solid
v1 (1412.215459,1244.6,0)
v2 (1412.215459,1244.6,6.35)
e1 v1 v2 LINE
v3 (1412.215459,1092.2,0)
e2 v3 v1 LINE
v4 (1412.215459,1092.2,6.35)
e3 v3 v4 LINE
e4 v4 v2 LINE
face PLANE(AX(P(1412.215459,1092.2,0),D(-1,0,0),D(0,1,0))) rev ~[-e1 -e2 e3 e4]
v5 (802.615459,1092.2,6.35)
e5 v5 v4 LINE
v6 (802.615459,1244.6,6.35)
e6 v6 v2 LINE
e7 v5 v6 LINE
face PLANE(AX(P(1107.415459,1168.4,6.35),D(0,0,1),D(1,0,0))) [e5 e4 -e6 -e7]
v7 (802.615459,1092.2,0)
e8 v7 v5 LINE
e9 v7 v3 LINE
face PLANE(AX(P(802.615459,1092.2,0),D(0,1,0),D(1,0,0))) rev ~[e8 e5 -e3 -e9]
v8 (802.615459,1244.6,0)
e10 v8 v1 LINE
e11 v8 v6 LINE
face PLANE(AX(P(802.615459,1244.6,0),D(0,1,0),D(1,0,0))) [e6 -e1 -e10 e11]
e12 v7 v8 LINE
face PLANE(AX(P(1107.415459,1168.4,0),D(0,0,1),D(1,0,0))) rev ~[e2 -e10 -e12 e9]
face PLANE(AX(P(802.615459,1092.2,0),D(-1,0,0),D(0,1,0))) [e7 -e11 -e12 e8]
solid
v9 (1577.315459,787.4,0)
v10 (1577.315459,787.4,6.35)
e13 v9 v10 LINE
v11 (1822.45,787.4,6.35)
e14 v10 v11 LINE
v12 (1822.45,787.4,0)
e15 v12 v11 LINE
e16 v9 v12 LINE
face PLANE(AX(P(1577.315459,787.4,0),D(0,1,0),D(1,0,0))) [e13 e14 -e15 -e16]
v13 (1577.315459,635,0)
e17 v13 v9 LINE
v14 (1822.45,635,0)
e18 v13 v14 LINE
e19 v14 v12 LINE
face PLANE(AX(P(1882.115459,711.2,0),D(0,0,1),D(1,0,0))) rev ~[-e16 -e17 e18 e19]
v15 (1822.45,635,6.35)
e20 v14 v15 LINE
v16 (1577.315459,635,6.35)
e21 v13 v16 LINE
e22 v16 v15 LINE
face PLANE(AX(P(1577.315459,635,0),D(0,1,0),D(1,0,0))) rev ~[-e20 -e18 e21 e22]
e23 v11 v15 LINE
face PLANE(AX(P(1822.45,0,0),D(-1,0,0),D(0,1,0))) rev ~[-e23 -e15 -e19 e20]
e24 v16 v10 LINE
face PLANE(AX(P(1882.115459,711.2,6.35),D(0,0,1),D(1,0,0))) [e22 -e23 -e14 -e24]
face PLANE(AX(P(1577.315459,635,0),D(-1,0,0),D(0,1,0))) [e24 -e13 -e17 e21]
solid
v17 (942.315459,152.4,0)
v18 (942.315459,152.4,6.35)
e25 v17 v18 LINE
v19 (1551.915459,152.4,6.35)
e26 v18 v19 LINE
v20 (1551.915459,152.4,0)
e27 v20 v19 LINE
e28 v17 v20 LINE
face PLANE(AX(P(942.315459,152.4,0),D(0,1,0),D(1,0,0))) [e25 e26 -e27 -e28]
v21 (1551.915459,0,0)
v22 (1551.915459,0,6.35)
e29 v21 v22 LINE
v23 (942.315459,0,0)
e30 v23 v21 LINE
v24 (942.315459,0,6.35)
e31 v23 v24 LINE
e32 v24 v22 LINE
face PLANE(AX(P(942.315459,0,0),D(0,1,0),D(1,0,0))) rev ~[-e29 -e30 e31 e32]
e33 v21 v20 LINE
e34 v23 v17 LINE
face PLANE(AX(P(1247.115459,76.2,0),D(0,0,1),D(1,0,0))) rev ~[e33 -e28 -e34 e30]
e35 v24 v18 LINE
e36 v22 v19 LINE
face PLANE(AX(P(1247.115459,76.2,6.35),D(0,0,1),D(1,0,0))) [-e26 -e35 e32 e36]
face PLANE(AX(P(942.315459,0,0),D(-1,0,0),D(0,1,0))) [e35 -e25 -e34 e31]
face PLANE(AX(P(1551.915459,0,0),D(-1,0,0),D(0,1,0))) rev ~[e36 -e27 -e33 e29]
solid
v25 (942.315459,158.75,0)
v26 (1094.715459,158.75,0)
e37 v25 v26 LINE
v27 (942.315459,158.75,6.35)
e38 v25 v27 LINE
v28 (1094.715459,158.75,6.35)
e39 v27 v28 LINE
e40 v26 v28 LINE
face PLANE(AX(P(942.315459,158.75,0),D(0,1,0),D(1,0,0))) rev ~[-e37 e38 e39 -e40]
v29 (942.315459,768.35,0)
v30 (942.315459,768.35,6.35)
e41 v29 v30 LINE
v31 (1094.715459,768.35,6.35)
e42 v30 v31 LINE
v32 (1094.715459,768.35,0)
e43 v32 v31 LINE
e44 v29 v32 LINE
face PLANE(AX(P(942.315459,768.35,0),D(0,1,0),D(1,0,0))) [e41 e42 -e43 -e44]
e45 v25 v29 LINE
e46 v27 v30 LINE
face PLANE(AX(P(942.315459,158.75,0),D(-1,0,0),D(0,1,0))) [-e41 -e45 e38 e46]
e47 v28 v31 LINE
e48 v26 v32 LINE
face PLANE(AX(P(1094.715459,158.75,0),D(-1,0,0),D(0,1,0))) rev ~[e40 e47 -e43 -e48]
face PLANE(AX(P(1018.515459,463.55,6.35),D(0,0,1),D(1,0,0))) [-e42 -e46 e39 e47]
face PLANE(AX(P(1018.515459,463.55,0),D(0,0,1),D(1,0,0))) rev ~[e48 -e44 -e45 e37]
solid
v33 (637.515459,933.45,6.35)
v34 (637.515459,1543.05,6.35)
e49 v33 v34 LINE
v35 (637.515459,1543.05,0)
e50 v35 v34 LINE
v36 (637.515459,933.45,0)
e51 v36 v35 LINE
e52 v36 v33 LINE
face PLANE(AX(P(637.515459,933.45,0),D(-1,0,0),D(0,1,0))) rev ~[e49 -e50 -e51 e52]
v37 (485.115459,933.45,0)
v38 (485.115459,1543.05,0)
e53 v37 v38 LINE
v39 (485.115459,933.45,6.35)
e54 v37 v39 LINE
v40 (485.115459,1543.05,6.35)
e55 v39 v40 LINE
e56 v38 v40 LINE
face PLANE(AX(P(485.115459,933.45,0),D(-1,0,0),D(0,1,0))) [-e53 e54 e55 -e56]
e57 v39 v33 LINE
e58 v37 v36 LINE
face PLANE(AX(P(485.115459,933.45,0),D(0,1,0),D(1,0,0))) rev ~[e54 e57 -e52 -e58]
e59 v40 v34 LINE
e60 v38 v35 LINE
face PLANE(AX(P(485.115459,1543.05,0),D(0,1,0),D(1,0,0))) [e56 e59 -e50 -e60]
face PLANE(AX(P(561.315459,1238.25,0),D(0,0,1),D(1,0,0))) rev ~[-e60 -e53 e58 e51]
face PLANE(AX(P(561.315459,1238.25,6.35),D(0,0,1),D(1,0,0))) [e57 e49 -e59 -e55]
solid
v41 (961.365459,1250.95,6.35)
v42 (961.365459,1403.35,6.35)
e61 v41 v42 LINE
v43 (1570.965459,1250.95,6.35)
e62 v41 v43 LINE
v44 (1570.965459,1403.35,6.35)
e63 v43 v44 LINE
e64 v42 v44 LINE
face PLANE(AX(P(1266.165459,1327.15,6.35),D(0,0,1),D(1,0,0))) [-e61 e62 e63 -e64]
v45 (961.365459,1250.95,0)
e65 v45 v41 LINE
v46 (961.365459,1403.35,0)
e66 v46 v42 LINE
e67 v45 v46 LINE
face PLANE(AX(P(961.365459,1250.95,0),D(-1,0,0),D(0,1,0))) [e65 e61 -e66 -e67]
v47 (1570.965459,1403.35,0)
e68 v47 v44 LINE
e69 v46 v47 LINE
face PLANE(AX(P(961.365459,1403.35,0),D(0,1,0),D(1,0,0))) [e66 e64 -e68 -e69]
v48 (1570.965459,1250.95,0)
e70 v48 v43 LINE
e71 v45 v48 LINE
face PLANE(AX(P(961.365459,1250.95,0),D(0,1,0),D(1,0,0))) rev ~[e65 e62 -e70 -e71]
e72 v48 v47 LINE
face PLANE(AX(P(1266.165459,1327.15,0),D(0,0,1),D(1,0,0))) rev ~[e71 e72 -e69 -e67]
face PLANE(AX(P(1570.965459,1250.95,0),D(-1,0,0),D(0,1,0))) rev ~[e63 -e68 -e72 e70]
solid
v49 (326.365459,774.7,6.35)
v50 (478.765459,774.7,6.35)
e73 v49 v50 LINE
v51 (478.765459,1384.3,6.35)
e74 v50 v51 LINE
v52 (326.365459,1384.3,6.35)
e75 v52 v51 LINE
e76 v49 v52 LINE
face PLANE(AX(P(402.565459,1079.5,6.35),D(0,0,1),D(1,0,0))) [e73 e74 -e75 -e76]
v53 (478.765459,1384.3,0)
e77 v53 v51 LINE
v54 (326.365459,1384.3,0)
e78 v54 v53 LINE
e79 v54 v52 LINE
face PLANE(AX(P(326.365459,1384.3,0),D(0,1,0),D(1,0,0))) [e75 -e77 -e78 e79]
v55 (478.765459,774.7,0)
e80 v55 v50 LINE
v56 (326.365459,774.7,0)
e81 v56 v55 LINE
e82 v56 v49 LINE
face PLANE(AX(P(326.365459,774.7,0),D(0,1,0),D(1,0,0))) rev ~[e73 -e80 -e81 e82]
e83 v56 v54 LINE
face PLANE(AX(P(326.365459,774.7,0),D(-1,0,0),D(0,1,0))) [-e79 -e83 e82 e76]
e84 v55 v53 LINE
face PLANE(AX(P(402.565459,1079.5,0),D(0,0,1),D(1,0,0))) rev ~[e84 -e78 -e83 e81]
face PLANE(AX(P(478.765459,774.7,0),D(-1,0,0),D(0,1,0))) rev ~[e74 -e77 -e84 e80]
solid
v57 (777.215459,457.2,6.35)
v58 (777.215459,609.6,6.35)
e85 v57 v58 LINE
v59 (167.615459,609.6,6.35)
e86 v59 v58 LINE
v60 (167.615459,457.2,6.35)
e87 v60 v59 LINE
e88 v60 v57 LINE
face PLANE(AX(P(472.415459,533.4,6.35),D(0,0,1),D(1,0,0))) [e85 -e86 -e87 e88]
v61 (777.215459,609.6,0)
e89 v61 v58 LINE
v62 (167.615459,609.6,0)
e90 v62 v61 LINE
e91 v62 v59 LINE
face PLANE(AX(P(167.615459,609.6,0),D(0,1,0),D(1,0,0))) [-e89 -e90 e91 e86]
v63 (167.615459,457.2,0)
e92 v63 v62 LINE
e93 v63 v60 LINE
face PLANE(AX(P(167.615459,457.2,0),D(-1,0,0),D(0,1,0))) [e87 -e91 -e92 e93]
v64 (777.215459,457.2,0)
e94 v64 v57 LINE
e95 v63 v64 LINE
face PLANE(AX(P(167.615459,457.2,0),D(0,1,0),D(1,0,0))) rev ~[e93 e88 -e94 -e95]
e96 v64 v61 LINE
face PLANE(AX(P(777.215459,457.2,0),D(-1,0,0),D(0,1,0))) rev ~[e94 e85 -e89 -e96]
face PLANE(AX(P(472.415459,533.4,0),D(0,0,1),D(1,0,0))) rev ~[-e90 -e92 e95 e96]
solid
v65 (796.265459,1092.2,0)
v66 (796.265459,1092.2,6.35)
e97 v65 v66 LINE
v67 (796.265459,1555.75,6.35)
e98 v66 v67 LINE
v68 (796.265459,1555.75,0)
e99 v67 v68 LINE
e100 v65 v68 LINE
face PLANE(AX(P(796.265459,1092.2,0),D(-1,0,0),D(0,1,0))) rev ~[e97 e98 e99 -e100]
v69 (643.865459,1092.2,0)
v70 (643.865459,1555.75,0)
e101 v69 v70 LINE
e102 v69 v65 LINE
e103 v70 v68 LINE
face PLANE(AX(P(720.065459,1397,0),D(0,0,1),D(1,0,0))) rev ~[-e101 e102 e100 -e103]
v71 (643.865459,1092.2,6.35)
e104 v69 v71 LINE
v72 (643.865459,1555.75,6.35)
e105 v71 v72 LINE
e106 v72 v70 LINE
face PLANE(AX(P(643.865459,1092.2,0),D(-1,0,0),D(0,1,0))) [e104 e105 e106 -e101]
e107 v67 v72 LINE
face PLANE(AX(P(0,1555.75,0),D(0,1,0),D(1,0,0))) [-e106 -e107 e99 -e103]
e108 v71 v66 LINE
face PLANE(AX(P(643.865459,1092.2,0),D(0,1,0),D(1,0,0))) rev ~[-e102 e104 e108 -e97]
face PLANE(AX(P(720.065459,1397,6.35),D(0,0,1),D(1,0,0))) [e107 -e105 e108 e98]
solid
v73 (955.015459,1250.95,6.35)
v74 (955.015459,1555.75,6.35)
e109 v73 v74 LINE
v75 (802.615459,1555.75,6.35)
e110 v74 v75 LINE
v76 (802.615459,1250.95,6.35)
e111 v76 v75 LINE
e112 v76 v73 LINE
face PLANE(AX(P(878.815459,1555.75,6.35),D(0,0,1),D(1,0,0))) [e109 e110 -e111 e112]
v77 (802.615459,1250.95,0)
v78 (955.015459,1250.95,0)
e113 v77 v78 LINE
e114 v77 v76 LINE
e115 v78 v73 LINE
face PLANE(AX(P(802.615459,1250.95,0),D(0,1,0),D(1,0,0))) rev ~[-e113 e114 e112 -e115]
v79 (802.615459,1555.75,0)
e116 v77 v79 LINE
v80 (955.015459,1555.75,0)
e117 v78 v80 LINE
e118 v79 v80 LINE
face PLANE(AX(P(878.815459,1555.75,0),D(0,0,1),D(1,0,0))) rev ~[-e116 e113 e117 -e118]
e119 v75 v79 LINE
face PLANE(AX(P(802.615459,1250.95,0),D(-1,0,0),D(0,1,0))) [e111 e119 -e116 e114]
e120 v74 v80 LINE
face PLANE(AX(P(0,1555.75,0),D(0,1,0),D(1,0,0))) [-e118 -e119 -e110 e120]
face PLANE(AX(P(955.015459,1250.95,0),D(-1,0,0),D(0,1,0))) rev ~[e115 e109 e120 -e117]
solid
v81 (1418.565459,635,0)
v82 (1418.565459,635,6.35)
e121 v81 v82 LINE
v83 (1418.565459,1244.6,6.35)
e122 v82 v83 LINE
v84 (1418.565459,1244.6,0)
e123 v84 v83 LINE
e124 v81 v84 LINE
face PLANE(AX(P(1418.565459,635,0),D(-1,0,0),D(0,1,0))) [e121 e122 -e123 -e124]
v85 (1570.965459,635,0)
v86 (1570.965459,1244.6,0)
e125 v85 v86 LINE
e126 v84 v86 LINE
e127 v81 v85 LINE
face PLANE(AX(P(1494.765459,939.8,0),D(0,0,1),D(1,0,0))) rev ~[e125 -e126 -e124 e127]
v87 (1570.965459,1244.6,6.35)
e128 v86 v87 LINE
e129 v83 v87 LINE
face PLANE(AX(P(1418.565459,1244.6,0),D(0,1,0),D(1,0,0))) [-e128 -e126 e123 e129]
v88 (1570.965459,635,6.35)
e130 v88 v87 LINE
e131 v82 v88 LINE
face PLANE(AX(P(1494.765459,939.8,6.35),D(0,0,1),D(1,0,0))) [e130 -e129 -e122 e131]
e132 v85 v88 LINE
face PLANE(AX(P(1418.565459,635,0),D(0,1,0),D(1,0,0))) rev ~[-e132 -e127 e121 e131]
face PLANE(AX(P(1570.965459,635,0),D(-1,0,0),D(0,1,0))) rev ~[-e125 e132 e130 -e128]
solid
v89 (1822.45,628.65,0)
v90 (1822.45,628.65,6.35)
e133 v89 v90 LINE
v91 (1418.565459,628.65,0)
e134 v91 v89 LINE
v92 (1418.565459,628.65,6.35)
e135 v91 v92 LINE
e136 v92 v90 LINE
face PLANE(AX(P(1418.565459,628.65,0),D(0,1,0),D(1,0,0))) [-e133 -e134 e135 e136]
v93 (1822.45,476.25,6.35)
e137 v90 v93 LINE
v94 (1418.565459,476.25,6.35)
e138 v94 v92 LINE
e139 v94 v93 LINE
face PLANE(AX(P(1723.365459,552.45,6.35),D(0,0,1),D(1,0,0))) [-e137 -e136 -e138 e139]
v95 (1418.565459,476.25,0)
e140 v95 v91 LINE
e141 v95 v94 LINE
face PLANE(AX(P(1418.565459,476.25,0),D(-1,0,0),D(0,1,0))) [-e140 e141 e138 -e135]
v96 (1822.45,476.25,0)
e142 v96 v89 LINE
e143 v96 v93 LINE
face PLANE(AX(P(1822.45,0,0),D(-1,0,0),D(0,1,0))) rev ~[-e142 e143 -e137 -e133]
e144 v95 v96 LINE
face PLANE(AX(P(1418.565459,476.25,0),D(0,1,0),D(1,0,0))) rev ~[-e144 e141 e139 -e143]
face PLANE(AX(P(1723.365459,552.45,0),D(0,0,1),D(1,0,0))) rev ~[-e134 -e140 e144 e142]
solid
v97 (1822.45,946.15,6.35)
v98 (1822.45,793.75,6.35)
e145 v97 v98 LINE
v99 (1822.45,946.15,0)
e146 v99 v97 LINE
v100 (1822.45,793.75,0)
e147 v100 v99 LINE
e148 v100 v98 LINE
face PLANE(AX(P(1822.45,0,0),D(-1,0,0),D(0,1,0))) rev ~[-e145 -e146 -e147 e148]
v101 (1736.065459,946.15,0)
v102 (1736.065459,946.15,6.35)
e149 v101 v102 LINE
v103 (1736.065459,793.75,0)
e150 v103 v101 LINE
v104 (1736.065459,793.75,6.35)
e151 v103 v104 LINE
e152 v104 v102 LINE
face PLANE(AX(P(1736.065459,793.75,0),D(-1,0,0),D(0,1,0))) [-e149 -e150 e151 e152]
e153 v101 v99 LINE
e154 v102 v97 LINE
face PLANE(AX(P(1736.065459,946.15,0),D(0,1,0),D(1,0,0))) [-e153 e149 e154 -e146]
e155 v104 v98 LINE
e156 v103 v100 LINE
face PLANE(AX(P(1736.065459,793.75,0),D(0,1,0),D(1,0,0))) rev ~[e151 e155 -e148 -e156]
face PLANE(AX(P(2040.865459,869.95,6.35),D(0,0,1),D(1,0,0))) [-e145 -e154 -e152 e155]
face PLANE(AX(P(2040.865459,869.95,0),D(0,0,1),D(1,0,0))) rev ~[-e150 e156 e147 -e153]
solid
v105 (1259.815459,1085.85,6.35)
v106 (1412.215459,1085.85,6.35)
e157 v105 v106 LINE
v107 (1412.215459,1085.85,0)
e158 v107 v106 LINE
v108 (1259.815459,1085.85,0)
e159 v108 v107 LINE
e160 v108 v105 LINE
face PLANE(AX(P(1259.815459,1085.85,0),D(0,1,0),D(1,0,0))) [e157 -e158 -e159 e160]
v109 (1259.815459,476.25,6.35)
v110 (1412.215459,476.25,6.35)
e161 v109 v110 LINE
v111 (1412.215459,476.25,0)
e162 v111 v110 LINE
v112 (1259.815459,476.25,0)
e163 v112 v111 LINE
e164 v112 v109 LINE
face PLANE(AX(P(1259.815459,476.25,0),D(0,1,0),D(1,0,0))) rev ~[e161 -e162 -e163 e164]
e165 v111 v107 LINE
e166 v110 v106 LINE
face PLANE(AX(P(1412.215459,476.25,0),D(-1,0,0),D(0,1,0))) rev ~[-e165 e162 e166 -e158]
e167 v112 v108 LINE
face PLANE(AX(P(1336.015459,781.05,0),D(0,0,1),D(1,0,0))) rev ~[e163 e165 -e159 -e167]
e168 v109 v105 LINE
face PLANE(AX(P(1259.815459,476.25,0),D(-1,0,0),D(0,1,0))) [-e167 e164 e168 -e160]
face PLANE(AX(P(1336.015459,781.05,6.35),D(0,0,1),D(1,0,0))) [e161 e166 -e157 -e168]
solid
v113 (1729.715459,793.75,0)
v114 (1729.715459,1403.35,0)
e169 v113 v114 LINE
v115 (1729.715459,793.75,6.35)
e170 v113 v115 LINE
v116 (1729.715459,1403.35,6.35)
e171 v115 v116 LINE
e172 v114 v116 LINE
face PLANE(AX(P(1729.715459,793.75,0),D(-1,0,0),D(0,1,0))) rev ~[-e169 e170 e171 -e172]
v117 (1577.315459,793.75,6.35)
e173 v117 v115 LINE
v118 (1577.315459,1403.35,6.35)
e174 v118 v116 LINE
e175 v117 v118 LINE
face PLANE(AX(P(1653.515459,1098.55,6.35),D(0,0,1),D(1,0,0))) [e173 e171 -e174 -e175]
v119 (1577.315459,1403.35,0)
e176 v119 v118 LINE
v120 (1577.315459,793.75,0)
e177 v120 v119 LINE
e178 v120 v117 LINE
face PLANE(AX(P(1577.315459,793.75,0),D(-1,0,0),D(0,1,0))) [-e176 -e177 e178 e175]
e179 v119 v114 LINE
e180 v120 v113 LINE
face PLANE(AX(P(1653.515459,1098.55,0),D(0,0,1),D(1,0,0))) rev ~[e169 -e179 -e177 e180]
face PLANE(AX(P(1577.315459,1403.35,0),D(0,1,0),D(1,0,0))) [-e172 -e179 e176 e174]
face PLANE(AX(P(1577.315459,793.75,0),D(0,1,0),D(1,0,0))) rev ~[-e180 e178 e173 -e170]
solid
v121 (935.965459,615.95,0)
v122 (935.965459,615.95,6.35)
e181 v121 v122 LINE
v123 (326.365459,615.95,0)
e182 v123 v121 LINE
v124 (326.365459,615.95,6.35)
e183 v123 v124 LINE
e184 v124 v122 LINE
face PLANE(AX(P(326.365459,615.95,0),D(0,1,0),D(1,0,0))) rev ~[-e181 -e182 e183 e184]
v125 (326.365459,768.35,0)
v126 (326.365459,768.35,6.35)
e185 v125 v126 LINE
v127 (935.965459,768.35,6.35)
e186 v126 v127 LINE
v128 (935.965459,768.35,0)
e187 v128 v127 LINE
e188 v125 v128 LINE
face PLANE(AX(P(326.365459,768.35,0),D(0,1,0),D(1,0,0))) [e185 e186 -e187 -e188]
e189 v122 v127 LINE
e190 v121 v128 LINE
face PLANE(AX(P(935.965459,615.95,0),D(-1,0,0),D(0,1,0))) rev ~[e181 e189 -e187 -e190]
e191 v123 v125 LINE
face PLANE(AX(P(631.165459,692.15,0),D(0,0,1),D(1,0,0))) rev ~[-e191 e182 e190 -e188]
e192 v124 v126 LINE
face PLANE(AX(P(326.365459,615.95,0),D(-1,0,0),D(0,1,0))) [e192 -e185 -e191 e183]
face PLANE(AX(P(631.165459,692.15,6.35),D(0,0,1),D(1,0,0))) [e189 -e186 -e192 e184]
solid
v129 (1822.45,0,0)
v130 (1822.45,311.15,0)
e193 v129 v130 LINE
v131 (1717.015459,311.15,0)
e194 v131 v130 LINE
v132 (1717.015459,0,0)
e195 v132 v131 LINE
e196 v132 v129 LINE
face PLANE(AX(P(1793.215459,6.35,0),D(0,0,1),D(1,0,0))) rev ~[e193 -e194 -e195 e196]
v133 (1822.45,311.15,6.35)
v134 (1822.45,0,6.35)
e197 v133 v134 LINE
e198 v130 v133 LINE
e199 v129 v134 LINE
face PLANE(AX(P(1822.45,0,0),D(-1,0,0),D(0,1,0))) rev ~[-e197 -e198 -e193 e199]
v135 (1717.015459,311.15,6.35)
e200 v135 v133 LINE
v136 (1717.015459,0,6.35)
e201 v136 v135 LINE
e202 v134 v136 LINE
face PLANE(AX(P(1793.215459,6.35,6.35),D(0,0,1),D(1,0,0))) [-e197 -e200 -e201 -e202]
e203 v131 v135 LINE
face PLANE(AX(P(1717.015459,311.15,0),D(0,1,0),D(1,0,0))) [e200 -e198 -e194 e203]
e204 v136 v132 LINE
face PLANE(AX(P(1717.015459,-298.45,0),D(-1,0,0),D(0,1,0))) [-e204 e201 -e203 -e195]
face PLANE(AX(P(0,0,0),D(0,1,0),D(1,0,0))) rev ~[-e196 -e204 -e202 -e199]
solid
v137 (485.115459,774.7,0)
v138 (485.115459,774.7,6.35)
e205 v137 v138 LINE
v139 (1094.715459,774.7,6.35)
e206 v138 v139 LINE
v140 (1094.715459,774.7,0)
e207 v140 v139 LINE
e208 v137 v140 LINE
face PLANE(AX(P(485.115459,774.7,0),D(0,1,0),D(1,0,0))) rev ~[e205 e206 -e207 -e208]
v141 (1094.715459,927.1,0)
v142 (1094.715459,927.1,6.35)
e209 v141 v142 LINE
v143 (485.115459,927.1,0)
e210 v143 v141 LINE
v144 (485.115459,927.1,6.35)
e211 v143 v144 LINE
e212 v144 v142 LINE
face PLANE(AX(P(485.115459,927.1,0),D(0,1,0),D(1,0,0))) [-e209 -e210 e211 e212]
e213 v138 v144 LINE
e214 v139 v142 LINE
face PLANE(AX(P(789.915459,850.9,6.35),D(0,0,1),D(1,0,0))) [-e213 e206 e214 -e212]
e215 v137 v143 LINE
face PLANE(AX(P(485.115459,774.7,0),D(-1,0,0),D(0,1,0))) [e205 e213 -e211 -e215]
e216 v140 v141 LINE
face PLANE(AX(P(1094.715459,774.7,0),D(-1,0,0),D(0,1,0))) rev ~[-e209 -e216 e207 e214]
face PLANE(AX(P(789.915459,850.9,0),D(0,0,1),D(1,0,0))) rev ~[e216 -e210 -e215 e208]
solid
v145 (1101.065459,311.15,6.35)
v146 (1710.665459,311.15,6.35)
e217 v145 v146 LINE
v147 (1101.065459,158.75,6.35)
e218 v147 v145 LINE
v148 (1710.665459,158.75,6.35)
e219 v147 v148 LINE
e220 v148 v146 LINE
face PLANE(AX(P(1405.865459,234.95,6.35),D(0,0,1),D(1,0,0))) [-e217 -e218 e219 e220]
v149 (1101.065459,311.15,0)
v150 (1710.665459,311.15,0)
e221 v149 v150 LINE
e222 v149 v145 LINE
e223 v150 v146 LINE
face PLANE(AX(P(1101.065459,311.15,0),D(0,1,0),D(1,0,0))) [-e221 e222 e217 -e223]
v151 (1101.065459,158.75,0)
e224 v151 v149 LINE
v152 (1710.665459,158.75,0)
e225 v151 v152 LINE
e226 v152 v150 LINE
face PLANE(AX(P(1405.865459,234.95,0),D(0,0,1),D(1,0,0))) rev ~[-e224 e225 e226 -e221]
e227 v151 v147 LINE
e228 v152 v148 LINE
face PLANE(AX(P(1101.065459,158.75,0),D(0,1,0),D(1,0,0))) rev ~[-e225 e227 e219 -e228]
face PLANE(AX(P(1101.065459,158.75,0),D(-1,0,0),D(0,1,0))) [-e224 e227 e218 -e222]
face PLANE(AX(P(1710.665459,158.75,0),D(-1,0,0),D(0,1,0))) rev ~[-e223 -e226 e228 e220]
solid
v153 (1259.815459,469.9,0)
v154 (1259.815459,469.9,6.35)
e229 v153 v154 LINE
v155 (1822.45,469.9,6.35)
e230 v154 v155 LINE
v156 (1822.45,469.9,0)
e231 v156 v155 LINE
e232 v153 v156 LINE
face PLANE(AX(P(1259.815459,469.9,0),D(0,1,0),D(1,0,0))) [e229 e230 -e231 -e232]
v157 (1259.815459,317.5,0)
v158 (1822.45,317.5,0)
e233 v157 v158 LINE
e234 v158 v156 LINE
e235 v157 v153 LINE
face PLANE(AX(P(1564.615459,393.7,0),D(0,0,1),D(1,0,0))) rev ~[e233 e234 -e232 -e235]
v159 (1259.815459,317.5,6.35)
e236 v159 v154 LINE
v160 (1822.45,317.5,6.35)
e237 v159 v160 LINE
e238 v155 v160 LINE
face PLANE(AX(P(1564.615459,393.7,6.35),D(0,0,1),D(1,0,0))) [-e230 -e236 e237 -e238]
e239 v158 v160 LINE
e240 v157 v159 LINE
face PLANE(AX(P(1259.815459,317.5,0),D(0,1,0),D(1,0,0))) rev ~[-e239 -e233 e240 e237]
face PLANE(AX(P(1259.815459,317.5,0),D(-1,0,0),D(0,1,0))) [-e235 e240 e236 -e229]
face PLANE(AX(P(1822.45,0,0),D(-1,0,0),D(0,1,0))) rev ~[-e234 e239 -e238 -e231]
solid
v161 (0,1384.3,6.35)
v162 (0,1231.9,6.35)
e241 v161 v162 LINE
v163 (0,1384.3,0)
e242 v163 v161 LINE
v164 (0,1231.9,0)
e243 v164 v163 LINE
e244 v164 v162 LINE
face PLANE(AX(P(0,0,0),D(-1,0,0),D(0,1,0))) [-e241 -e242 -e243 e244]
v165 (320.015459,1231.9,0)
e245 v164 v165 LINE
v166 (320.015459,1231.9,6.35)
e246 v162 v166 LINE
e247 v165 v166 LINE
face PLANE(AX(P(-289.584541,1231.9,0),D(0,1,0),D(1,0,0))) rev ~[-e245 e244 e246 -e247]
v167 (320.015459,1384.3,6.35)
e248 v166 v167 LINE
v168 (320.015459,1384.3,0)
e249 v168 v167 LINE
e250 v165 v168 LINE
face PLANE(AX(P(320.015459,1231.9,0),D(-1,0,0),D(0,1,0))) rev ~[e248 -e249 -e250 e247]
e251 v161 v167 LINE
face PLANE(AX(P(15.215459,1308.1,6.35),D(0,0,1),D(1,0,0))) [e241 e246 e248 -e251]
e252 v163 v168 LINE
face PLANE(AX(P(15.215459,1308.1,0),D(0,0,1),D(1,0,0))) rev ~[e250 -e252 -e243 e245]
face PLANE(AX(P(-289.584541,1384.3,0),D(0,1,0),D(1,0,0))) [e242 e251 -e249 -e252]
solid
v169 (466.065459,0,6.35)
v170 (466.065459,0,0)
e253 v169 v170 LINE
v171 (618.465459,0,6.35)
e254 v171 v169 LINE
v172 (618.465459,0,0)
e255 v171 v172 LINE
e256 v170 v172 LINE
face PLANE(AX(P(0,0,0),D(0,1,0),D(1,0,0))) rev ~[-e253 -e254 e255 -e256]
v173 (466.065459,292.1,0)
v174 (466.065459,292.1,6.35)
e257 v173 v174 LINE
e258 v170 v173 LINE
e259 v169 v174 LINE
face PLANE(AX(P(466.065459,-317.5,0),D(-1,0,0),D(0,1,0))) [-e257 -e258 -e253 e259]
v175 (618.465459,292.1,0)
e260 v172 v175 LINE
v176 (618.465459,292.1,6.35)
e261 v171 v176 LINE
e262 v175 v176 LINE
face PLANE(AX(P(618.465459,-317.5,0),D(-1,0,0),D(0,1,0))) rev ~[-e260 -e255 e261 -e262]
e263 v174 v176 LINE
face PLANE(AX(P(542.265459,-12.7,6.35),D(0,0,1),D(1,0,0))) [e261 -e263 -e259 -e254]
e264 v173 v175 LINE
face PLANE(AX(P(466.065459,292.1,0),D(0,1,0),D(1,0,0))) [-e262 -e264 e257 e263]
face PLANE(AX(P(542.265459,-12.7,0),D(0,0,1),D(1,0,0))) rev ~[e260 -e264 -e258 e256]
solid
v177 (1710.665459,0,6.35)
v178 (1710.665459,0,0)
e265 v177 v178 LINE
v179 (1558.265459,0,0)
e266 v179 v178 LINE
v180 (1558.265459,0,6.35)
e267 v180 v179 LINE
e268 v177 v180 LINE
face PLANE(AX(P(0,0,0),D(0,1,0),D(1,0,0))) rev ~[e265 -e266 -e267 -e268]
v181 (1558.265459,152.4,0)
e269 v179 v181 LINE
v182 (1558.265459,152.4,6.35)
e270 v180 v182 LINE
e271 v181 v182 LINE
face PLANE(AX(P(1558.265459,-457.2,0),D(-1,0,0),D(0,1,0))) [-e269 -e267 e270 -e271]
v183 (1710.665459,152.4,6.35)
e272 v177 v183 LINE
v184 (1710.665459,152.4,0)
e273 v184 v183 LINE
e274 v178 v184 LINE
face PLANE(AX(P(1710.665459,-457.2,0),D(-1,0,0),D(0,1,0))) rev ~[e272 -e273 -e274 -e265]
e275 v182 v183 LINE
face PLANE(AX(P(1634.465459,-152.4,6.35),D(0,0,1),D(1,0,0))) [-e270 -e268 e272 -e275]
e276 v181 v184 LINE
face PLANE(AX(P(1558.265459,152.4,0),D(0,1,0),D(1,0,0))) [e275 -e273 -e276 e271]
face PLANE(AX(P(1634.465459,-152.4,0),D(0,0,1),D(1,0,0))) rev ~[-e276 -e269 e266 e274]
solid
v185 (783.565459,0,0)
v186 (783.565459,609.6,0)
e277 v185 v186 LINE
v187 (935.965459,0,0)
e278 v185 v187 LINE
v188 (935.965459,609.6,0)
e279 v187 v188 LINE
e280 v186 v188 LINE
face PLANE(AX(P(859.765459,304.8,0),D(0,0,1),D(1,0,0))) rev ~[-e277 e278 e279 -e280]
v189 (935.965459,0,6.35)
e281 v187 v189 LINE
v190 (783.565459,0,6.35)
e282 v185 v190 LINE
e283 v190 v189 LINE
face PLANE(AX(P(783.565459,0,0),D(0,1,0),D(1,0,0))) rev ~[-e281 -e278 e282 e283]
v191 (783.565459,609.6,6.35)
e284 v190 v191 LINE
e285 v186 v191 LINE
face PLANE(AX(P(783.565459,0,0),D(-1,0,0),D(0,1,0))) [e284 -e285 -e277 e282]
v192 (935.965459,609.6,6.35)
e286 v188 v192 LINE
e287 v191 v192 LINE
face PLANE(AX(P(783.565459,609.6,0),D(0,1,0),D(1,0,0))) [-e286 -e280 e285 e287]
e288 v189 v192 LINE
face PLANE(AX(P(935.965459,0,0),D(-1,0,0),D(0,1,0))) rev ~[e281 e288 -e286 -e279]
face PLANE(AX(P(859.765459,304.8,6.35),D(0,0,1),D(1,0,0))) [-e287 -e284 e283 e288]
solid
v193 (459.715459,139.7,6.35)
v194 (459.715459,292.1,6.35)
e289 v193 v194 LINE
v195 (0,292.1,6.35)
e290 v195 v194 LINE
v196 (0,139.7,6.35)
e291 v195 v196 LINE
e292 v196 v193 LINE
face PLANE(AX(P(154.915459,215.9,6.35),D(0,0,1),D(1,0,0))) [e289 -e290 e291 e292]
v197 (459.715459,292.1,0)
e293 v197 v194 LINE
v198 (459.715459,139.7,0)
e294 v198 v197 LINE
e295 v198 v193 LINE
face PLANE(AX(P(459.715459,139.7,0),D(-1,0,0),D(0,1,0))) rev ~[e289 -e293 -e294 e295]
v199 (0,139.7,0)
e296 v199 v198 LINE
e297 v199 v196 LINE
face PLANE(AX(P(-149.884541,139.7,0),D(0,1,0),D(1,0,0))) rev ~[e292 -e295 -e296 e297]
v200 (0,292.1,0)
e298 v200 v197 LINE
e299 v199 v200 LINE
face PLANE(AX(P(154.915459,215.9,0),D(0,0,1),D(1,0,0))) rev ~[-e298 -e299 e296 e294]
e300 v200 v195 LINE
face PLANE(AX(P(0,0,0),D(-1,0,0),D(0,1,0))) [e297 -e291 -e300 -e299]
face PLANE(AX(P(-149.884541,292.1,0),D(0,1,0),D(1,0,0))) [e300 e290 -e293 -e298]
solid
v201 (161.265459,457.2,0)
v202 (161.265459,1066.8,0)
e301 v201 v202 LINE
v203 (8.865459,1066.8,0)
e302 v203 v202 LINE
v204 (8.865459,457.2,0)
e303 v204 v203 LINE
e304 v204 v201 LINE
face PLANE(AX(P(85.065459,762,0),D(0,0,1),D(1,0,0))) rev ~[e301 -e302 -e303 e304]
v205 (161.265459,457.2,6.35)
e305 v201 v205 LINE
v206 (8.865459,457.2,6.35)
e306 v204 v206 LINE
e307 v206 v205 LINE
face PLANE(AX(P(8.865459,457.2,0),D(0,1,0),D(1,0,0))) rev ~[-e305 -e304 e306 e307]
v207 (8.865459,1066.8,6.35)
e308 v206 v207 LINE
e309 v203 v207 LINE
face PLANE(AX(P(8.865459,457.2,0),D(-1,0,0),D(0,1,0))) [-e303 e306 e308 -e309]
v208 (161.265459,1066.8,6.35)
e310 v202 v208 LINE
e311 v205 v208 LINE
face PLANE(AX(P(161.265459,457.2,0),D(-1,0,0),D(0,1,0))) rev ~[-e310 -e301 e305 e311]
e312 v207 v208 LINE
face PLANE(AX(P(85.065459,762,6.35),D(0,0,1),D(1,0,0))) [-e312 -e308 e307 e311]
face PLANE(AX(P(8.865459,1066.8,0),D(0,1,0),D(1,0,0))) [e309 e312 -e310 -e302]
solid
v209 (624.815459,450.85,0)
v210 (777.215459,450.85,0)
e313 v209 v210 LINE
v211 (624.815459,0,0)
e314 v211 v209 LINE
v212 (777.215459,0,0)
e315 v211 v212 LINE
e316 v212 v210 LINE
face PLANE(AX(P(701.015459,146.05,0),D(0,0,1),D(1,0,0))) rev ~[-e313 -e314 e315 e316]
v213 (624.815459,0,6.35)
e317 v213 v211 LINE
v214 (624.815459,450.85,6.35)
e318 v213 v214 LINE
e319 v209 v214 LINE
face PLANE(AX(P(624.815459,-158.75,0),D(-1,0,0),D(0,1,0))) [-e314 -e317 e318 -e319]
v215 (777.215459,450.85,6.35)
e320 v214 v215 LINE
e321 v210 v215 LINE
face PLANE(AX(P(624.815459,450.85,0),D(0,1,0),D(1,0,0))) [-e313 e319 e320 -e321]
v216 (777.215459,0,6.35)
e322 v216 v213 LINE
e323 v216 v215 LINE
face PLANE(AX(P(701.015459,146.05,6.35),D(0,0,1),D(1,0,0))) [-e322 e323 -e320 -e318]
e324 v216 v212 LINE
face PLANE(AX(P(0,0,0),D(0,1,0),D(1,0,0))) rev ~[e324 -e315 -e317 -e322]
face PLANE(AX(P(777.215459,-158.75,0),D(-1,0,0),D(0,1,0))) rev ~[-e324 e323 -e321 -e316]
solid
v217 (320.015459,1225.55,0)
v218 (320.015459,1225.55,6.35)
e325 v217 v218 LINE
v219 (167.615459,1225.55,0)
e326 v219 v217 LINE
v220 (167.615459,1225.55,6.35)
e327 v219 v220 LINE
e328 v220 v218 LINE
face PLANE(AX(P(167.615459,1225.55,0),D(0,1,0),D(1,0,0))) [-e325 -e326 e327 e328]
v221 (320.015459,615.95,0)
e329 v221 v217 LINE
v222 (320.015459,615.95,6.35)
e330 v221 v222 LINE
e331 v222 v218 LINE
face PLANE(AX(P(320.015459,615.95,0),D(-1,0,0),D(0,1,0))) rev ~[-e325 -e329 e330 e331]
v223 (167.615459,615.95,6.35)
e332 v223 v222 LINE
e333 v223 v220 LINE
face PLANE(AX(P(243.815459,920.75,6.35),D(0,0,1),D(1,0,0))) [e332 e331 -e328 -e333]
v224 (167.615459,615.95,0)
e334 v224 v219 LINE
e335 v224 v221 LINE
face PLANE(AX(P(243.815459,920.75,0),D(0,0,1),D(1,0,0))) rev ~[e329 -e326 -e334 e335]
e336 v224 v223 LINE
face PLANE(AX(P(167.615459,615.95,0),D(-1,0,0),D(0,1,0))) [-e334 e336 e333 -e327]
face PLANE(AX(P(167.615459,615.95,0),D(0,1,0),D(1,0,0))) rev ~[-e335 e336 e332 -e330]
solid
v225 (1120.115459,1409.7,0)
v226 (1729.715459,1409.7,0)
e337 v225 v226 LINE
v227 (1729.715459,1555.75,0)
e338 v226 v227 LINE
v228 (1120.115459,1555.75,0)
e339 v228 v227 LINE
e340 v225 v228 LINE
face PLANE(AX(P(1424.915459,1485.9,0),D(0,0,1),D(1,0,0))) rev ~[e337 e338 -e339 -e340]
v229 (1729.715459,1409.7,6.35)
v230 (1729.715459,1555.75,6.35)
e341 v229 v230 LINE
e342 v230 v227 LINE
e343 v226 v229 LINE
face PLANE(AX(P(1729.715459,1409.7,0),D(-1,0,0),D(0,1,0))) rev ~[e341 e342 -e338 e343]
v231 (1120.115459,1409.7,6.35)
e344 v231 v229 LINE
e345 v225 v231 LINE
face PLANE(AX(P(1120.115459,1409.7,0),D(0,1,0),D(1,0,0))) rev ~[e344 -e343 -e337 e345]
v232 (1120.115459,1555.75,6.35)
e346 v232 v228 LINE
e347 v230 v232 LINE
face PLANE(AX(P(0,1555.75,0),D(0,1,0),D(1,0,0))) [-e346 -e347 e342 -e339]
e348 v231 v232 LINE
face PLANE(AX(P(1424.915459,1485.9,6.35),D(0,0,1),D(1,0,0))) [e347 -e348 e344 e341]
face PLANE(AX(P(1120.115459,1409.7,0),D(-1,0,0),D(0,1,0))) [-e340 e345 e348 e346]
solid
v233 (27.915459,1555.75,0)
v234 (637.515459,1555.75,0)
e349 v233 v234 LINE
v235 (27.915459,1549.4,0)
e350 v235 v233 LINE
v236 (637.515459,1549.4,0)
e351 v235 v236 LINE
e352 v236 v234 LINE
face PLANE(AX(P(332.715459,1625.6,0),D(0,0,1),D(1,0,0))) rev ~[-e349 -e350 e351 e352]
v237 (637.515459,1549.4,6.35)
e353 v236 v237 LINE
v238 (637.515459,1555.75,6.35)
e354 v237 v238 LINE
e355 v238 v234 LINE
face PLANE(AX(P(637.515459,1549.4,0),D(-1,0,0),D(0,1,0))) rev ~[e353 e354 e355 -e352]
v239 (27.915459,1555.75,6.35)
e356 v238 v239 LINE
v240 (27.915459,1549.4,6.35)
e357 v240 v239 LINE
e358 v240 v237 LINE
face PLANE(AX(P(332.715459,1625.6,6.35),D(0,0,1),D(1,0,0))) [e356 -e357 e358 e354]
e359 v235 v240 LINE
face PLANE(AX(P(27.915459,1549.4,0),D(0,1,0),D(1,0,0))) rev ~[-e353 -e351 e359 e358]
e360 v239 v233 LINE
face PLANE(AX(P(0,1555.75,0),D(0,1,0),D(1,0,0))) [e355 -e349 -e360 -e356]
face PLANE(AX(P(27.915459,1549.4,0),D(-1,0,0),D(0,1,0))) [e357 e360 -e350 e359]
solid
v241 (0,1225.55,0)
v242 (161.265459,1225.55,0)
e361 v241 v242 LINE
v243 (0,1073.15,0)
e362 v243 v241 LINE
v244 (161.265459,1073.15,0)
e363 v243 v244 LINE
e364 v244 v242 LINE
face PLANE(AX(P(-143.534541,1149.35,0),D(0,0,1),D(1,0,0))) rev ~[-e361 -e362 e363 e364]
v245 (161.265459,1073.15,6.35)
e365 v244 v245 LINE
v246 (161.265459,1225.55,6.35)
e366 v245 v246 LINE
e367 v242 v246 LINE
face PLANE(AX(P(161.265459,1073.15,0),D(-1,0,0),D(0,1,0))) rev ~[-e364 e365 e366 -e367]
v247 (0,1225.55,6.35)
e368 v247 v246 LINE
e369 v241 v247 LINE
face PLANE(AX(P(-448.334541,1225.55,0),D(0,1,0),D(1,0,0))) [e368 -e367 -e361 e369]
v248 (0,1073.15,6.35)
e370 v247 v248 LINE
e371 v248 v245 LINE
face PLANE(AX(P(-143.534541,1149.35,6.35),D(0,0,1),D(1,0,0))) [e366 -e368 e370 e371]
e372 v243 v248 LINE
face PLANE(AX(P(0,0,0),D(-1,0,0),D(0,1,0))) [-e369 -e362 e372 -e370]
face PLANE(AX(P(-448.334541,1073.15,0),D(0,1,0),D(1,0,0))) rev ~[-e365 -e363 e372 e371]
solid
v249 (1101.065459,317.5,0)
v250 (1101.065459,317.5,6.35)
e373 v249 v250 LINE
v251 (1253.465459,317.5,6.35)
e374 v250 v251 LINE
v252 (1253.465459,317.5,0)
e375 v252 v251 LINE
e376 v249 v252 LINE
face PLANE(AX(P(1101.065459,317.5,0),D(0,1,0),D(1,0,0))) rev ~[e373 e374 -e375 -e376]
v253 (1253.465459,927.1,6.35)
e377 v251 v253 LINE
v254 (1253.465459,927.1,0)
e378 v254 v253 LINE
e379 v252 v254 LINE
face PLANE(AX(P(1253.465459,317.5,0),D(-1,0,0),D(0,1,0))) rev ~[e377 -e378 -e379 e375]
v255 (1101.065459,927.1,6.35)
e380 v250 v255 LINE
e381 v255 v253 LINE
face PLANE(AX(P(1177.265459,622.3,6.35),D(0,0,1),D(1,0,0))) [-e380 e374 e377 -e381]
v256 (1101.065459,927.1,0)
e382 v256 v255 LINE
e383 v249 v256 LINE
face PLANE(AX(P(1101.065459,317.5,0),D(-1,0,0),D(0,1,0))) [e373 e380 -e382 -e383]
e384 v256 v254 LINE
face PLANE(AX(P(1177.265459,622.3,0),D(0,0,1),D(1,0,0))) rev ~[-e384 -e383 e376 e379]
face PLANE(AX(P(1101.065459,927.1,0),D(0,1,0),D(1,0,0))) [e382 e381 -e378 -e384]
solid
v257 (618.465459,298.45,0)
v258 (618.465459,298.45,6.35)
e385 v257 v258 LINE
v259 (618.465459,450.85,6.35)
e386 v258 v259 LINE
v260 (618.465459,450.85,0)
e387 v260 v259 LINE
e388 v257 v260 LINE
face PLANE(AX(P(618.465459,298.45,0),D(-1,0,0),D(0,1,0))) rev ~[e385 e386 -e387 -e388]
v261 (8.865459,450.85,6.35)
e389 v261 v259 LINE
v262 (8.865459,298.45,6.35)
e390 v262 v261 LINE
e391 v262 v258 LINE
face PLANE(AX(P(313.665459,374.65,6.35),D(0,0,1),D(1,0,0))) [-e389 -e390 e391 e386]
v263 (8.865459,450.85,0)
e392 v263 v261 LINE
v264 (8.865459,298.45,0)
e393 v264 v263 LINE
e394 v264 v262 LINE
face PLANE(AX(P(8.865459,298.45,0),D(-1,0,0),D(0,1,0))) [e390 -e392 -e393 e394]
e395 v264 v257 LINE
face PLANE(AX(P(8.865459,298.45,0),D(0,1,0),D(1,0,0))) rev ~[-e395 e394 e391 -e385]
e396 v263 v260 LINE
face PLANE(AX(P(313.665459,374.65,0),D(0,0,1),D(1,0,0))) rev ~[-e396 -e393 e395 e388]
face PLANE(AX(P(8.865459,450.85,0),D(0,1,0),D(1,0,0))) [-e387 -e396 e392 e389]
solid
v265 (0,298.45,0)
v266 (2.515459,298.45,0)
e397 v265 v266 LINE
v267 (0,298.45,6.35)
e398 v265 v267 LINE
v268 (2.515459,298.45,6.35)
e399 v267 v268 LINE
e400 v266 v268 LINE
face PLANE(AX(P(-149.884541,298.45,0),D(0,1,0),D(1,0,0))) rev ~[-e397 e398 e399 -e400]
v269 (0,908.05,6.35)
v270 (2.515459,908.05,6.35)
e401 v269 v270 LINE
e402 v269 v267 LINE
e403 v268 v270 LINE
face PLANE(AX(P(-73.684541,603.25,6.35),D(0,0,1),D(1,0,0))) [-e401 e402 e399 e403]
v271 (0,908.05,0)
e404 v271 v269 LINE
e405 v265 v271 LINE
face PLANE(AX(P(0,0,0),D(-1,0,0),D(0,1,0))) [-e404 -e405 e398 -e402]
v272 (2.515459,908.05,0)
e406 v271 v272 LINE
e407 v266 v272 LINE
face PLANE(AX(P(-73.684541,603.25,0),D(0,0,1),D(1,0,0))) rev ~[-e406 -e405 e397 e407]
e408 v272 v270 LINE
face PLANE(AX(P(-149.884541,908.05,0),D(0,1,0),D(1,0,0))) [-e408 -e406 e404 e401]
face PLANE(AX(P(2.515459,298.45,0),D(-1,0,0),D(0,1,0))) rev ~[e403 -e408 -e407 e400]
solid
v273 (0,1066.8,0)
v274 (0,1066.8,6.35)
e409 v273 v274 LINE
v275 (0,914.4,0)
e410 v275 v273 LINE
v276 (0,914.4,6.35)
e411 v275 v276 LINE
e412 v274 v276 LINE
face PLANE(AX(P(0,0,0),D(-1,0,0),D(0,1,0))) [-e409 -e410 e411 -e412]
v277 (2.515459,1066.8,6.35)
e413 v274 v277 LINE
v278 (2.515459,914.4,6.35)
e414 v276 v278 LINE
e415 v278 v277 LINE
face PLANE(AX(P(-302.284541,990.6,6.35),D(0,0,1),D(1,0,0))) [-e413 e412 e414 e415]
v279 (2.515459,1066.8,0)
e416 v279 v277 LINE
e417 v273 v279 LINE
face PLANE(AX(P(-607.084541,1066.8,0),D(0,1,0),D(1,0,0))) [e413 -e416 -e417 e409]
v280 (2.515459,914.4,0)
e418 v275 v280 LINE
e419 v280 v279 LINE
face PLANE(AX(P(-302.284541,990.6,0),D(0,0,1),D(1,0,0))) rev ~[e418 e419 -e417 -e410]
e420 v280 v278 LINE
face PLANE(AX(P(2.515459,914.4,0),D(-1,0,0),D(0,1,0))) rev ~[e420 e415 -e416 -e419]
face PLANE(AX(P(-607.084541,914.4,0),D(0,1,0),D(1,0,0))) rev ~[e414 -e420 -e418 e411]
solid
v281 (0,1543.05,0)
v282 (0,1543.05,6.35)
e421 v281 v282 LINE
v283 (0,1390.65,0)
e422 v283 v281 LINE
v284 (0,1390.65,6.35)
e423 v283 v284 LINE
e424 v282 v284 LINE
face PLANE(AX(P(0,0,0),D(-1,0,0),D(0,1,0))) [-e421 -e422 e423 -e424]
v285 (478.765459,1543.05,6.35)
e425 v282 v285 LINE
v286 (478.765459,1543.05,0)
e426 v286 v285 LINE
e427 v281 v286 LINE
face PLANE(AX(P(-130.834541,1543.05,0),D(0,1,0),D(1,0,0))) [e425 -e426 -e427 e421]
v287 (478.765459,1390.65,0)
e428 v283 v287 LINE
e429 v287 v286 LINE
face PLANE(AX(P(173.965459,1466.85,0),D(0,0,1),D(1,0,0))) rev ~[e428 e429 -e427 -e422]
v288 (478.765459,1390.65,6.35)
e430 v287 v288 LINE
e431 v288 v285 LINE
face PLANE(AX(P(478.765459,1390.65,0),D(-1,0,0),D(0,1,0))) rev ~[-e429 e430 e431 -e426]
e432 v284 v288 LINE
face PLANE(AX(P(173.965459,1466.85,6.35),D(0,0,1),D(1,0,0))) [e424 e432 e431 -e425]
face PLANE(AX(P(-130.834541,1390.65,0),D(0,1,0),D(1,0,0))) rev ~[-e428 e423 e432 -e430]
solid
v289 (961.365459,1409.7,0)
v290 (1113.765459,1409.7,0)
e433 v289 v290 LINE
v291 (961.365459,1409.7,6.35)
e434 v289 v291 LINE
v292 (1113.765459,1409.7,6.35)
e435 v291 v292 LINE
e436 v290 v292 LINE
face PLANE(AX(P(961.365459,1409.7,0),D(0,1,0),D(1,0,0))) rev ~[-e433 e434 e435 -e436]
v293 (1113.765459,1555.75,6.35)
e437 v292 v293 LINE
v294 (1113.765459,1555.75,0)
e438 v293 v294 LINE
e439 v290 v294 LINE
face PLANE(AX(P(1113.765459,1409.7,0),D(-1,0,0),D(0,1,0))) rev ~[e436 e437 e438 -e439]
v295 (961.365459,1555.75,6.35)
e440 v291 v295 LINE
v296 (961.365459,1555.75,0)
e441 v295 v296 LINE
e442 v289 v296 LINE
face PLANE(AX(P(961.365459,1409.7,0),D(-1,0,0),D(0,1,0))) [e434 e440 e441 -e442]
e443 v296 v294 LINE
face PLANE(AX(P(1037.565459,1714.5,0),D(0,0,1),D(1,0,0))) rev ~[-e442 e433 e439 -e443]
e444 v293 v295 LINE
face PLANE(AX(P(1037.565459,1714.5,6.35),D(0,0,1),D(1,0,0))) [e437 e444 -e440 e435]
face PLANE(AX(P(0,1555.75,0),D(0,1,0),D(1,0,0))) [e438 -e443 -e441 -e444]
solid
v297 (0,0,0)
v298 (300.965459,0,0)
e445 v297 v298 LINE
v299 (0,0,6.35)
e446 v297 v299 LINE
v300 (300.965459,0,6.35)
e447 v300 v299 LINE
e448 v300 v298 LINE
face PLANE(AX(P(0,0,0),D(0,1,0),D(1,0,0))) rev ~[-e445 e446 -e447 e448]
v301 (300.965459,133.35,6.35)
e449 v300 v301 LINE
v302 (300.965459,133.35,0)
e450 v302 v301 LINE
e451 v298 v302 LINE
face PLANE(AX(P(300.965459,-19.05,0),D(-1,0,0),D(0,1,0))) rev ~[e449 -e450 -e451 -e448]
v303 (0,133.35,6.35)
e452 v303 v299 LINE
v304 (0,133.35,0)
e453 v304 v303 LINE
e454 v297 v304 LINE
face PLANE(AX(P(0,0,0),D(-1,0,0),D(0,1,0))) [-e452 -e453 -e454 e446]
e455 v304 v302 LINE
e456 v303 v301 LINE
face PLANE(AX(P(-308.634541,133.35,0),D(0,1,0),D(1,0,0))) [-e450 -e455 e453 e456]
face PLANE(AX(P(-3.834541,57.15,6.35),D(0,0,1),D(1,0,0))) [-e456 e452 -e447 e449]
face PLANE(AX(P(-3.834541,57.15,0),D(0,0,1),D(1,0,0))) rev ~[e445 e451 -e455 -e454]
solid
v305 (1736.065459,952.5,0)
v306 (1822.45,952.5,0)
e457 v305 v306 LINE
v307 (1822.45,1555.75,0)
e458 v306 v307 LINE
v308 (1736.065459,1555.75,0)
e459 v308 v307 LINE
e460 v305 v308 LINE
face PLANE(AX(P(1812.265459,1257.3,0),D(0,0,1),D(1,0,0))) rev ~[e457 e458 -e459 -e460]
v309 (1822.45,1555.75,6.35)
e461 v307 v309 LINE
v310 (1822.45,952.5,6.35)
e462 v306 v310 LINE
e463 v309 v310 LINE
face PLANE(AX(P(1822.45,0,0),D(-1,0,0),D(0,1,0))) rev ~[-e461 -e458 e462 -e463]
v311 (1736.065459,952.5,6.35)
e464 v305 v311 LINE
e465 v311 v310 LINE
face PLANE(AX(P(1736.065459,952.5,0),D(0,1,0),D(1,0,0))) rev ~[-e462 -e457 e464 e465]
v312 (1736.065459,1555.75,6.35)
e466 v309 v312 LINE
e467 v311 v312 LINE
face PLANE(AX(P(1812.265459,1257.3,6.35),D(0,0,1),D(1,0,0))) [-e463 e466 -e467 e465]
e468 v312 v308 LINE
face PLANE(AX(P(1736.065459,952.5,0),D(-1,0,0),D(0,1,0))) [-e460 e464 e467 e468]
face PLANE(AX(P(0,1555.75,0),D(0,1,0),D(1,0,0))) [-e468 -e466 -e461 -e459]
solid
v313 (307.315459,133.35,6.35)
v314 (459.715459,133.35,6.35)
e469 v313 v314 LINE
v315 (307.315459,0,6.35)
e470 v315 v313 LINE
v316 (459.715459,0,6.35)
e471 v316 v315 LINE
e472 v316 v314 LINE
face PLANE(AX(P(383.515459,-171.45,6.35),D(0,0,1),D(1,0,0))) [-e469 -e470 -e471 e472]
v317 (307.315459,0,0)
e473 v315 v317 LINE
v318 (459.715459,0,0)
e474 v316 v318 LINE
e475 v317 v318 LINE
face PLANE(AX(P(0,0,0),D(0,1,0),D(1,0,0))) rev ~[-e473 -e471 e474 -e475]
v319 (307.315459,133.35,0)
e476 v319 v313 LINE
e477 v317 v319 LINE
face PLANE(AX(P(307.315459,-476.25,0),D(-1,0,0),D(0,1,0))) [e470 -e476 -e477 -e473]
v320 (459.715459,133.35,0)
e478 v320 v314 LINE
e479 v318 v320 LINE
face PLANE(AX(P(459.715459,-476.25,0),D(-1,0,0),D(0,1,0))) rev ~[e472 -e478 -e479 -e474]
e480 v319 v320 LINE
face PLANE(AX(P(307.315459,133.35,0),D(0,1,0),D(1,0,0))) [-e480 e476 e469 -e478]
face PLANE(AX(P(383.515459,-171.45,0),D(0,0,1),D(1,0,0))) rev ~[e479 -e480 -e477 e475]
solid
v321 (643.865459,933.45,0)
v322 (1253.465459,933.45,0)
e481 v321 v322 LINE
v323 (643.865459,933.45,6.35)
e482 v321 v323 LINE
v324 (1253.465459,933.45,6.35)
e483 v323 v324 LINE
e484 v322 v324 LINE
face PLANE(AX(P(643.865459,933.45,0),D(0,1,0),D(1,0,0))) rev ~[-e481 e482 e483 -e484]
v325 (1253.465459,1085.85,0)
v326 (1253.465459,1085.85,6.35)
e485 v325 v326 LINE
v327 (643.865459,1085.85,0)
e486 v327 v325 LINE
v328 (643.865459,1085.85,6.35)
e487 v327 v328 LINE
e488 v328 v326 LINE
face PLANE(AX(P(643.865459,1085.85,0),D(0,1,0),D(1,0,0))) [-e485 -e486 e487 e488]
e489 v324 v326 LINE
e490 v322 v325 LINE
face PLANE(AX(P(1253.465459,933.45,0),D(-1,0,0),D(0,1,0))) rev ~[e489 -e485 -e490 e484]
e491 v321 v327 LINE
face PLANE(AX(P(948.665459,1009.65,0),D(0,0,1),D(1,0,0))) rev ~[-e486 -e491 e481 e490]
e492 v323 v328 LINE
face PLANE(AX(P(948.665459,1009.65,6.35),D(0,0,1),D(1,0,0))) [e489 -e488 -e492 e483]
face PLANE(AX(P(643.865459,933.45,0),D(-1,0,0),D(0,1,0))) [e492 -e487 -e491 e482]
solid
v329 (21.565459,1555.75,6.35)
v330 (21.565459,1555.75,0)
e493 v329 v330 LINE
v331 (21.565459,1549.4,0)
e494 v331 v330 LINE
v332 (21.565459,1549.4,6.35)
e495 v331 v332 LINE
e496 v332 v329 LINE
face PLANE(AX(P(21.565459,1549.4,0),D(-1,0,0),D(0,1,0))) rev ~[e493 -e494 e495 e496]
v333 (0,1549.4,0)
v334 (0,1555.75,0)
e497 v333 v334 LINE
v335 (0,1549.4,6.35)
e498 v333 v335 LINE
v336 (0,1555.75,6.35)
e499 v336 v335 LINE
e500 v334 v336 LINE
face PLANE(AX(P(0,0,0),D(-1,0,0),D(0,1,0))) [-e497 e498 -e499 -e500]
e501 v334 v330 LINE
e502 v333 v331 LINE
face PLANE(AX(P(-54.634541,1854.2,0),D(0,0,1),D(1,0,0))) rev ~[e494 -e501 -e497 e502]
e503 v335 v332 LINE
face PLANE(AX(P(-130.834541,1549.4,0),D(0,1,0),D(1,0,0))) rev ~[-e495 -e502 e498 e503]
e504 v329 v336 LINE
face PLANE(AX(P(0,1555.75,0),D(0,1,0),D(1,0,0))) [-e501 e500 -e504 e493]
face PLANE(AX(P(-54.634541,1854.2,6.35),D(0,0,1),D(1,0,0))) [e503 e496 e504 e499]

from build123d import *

# Parameters (mm, degrees)
F1_W     = 609.6
F1_H     = 152.4
F1_W_2   = 152.4
F1_H_2   = 609.6
F2_DEPTH = 6.35
F3_W     = 4289.612889
F3_H     = 4005.097747
F3_W_2   = 1822.45
F3_H_2   = 1555.75
F4_DEPTH = 6.351


with BuildPart() as f2:
    # F1 (on Top) → F2 (new body)
    with BuildSketch(Plane.XY):
        with Locations((1247.115459, 76.2)):
            Rectangle(F1_W, F1_H)
        with Locations((1018.515459, 463.55)):
            Rectangle(F1_W_2, F1_H_2)
        with Locations((1405.865459, 234.95)):
            Rectangle(F1_W, F1_H)
        with Locations((1177.265459, 622.3)):
            Rectangle(F1_W_2, F1_H_2)
        with Locations((859.765459, 304.8)):
            Rectangle(F1_W_2, F1_H_2)
        with Locations((472.415459, 533.4)):
            Rectangle(F1_W, F1_H)
        with Locations((701.015459, 146.05)):
            Rectangle(F1_W_2, F1_H_2)
        with Locations((313.665459, 374.65)):
            Rectangle(F1_W, F1_H)
        with Locations((542.265459, -12.7)):
            Rectangle(F1_W_2, F1_H_2)
        with Locations((154.915459, 215.9)):
            Rectangle(F1_W, F1_H)
        with Locations((383.515459, -171.45)):
            Rectangle(F1_W_2, F1_H_2)
        with Locations((224.765459, -330.2)):
            Rectangle(F1_W_2, F1_H_2)
        with Locations((-3.834541, 57.15)):
            Rectangle(F1_W, F1_H)
        with Locations((631.165459, 692.15)):
            Rectangle(F1_W, F1_H)
        with Locations((789.915459, 850.9)):
            Rectangle(F1_W, F1_H)
        with Locations((948.665459, 1009.65)):
            Rectangle(F1_W, F1_H)
        with Locations((1564.615459, 393.7)):
            Rectangle(F1_W, F1_H)
        with Locations((1336.015459, 781.05)):
            Rectangle(F1_W_2, F1_H_2)
        with Locations((1723.365459, 552.45)):
            Rectangle(F1_W, F1_H)
        with Locations((1494.765459, 939.8)):
            Rectangle(F1_W_2, F1_H_2)
        with Locations((1882.115459, 711.2)):
            Rectangle(F1_W, F1_H)
        with Locations((1107.415459, 1168.4)):
            Rectangle(F1_W, F1_H)
        with Locations((1653.515459, 1098.55)):
            Rectangle(F1_W_2, F1_H_2)
        with Locations((2040.865459, 869.95)):
            Rectangle(F1_W, F1_H)
        with Locations((1266.165459, 1327.15)):
            Rectangle(F1_W, F1_H)
        with Locations((878.815459, 1555.75)):
            Rectangle(F1_W_2, F1_H_2)
        with Locations((720.065459, 1397)):
            Rectangle(F1_W_2, F1_H_2)
        with Locations((561.315459, 1238.25)):
            Rectangle(F1_W_2, F1_H_2)
        with Locations((402.565459, 1079.5)):
            Rectangle(F1_W_2, F1_H_2)
        with Locations((243.815459, 920.75)):
            Rectangle(F1_W_2, F1_H_2)
        with Locations((85.065459, 762)):
            Rectangle(F1_W_2, F1_H_2)
        with Locations((1634.465459, -152.4)):
            Rectangle(F1_W_2, F1_H_2)
        with Locations((1793.215459, 6.35)):
            Rectangle(F1_W_2, F1_H_2)
        with Locations((1951.965459, 165.1)):
            Rectangle(F1_W_2, F1_H_2)
        with Locations((-73.684541, 603.25)):
            Rectangle(F1_W_2, F1_H_2)
        with Locations((1037.565459, 1714.5)):
            Rectangle(F1_W_2, F1_H_2)
        with Locations((1424.915459, 1485.9)):
            Rectangle(F1_W, F1_H)
        with Locations((-232.434541, 444.5)):
            Rectangle(F1_W_2, F1_H_2)
        with Locations((-461.034541, 831.85)):
            Rectangle(F1_W, F1_H)
        with Locations((-302.284541, 990.6)):
            Rectangle(F1_W, F1_H)
        with Locations((-143.534541, 1149.35)):
            Rectangle(F1_W, F1_H)
        with Locations((15.215459, 1308.1)):
            Rectangle(F1_W, F1_H)
        with Locations((173.965459, 1466.85)):
            Rectangle(F1_W, F1_H)
        with Locations((332.715459, 1625.6)):
            Rectangle(F1_W, F1_H)
        with Locations((-54.634541, 1854.2)):
            Rectangle(F1_W_2, F1_H_2)
        with Locations((-213.384541, 1695.45)):
            Rectangle(F1_W_2, F1_H_2)
        with Locations((1812.265459, 1257.3)):
            Rectangle(F1_W_2, F1_H_2)
    extrude(amount=F2_DEPTH)

    # F3 (on Top) → F4 (cut, through all)
    with BuildSketch(Plane.XY):
        with Locations((857.388675, 780.000746)):
            Rectangle(F3_W, F3_H)
        with Locations((911.225, 777.875)):
            Rectangle(F3_W_2, F3_H_2, mode=Mode.SUBTRACT)
    extrude(amount=F4_DEPTH, mode=Mode.SUBTRACT)


solid = f2.part
